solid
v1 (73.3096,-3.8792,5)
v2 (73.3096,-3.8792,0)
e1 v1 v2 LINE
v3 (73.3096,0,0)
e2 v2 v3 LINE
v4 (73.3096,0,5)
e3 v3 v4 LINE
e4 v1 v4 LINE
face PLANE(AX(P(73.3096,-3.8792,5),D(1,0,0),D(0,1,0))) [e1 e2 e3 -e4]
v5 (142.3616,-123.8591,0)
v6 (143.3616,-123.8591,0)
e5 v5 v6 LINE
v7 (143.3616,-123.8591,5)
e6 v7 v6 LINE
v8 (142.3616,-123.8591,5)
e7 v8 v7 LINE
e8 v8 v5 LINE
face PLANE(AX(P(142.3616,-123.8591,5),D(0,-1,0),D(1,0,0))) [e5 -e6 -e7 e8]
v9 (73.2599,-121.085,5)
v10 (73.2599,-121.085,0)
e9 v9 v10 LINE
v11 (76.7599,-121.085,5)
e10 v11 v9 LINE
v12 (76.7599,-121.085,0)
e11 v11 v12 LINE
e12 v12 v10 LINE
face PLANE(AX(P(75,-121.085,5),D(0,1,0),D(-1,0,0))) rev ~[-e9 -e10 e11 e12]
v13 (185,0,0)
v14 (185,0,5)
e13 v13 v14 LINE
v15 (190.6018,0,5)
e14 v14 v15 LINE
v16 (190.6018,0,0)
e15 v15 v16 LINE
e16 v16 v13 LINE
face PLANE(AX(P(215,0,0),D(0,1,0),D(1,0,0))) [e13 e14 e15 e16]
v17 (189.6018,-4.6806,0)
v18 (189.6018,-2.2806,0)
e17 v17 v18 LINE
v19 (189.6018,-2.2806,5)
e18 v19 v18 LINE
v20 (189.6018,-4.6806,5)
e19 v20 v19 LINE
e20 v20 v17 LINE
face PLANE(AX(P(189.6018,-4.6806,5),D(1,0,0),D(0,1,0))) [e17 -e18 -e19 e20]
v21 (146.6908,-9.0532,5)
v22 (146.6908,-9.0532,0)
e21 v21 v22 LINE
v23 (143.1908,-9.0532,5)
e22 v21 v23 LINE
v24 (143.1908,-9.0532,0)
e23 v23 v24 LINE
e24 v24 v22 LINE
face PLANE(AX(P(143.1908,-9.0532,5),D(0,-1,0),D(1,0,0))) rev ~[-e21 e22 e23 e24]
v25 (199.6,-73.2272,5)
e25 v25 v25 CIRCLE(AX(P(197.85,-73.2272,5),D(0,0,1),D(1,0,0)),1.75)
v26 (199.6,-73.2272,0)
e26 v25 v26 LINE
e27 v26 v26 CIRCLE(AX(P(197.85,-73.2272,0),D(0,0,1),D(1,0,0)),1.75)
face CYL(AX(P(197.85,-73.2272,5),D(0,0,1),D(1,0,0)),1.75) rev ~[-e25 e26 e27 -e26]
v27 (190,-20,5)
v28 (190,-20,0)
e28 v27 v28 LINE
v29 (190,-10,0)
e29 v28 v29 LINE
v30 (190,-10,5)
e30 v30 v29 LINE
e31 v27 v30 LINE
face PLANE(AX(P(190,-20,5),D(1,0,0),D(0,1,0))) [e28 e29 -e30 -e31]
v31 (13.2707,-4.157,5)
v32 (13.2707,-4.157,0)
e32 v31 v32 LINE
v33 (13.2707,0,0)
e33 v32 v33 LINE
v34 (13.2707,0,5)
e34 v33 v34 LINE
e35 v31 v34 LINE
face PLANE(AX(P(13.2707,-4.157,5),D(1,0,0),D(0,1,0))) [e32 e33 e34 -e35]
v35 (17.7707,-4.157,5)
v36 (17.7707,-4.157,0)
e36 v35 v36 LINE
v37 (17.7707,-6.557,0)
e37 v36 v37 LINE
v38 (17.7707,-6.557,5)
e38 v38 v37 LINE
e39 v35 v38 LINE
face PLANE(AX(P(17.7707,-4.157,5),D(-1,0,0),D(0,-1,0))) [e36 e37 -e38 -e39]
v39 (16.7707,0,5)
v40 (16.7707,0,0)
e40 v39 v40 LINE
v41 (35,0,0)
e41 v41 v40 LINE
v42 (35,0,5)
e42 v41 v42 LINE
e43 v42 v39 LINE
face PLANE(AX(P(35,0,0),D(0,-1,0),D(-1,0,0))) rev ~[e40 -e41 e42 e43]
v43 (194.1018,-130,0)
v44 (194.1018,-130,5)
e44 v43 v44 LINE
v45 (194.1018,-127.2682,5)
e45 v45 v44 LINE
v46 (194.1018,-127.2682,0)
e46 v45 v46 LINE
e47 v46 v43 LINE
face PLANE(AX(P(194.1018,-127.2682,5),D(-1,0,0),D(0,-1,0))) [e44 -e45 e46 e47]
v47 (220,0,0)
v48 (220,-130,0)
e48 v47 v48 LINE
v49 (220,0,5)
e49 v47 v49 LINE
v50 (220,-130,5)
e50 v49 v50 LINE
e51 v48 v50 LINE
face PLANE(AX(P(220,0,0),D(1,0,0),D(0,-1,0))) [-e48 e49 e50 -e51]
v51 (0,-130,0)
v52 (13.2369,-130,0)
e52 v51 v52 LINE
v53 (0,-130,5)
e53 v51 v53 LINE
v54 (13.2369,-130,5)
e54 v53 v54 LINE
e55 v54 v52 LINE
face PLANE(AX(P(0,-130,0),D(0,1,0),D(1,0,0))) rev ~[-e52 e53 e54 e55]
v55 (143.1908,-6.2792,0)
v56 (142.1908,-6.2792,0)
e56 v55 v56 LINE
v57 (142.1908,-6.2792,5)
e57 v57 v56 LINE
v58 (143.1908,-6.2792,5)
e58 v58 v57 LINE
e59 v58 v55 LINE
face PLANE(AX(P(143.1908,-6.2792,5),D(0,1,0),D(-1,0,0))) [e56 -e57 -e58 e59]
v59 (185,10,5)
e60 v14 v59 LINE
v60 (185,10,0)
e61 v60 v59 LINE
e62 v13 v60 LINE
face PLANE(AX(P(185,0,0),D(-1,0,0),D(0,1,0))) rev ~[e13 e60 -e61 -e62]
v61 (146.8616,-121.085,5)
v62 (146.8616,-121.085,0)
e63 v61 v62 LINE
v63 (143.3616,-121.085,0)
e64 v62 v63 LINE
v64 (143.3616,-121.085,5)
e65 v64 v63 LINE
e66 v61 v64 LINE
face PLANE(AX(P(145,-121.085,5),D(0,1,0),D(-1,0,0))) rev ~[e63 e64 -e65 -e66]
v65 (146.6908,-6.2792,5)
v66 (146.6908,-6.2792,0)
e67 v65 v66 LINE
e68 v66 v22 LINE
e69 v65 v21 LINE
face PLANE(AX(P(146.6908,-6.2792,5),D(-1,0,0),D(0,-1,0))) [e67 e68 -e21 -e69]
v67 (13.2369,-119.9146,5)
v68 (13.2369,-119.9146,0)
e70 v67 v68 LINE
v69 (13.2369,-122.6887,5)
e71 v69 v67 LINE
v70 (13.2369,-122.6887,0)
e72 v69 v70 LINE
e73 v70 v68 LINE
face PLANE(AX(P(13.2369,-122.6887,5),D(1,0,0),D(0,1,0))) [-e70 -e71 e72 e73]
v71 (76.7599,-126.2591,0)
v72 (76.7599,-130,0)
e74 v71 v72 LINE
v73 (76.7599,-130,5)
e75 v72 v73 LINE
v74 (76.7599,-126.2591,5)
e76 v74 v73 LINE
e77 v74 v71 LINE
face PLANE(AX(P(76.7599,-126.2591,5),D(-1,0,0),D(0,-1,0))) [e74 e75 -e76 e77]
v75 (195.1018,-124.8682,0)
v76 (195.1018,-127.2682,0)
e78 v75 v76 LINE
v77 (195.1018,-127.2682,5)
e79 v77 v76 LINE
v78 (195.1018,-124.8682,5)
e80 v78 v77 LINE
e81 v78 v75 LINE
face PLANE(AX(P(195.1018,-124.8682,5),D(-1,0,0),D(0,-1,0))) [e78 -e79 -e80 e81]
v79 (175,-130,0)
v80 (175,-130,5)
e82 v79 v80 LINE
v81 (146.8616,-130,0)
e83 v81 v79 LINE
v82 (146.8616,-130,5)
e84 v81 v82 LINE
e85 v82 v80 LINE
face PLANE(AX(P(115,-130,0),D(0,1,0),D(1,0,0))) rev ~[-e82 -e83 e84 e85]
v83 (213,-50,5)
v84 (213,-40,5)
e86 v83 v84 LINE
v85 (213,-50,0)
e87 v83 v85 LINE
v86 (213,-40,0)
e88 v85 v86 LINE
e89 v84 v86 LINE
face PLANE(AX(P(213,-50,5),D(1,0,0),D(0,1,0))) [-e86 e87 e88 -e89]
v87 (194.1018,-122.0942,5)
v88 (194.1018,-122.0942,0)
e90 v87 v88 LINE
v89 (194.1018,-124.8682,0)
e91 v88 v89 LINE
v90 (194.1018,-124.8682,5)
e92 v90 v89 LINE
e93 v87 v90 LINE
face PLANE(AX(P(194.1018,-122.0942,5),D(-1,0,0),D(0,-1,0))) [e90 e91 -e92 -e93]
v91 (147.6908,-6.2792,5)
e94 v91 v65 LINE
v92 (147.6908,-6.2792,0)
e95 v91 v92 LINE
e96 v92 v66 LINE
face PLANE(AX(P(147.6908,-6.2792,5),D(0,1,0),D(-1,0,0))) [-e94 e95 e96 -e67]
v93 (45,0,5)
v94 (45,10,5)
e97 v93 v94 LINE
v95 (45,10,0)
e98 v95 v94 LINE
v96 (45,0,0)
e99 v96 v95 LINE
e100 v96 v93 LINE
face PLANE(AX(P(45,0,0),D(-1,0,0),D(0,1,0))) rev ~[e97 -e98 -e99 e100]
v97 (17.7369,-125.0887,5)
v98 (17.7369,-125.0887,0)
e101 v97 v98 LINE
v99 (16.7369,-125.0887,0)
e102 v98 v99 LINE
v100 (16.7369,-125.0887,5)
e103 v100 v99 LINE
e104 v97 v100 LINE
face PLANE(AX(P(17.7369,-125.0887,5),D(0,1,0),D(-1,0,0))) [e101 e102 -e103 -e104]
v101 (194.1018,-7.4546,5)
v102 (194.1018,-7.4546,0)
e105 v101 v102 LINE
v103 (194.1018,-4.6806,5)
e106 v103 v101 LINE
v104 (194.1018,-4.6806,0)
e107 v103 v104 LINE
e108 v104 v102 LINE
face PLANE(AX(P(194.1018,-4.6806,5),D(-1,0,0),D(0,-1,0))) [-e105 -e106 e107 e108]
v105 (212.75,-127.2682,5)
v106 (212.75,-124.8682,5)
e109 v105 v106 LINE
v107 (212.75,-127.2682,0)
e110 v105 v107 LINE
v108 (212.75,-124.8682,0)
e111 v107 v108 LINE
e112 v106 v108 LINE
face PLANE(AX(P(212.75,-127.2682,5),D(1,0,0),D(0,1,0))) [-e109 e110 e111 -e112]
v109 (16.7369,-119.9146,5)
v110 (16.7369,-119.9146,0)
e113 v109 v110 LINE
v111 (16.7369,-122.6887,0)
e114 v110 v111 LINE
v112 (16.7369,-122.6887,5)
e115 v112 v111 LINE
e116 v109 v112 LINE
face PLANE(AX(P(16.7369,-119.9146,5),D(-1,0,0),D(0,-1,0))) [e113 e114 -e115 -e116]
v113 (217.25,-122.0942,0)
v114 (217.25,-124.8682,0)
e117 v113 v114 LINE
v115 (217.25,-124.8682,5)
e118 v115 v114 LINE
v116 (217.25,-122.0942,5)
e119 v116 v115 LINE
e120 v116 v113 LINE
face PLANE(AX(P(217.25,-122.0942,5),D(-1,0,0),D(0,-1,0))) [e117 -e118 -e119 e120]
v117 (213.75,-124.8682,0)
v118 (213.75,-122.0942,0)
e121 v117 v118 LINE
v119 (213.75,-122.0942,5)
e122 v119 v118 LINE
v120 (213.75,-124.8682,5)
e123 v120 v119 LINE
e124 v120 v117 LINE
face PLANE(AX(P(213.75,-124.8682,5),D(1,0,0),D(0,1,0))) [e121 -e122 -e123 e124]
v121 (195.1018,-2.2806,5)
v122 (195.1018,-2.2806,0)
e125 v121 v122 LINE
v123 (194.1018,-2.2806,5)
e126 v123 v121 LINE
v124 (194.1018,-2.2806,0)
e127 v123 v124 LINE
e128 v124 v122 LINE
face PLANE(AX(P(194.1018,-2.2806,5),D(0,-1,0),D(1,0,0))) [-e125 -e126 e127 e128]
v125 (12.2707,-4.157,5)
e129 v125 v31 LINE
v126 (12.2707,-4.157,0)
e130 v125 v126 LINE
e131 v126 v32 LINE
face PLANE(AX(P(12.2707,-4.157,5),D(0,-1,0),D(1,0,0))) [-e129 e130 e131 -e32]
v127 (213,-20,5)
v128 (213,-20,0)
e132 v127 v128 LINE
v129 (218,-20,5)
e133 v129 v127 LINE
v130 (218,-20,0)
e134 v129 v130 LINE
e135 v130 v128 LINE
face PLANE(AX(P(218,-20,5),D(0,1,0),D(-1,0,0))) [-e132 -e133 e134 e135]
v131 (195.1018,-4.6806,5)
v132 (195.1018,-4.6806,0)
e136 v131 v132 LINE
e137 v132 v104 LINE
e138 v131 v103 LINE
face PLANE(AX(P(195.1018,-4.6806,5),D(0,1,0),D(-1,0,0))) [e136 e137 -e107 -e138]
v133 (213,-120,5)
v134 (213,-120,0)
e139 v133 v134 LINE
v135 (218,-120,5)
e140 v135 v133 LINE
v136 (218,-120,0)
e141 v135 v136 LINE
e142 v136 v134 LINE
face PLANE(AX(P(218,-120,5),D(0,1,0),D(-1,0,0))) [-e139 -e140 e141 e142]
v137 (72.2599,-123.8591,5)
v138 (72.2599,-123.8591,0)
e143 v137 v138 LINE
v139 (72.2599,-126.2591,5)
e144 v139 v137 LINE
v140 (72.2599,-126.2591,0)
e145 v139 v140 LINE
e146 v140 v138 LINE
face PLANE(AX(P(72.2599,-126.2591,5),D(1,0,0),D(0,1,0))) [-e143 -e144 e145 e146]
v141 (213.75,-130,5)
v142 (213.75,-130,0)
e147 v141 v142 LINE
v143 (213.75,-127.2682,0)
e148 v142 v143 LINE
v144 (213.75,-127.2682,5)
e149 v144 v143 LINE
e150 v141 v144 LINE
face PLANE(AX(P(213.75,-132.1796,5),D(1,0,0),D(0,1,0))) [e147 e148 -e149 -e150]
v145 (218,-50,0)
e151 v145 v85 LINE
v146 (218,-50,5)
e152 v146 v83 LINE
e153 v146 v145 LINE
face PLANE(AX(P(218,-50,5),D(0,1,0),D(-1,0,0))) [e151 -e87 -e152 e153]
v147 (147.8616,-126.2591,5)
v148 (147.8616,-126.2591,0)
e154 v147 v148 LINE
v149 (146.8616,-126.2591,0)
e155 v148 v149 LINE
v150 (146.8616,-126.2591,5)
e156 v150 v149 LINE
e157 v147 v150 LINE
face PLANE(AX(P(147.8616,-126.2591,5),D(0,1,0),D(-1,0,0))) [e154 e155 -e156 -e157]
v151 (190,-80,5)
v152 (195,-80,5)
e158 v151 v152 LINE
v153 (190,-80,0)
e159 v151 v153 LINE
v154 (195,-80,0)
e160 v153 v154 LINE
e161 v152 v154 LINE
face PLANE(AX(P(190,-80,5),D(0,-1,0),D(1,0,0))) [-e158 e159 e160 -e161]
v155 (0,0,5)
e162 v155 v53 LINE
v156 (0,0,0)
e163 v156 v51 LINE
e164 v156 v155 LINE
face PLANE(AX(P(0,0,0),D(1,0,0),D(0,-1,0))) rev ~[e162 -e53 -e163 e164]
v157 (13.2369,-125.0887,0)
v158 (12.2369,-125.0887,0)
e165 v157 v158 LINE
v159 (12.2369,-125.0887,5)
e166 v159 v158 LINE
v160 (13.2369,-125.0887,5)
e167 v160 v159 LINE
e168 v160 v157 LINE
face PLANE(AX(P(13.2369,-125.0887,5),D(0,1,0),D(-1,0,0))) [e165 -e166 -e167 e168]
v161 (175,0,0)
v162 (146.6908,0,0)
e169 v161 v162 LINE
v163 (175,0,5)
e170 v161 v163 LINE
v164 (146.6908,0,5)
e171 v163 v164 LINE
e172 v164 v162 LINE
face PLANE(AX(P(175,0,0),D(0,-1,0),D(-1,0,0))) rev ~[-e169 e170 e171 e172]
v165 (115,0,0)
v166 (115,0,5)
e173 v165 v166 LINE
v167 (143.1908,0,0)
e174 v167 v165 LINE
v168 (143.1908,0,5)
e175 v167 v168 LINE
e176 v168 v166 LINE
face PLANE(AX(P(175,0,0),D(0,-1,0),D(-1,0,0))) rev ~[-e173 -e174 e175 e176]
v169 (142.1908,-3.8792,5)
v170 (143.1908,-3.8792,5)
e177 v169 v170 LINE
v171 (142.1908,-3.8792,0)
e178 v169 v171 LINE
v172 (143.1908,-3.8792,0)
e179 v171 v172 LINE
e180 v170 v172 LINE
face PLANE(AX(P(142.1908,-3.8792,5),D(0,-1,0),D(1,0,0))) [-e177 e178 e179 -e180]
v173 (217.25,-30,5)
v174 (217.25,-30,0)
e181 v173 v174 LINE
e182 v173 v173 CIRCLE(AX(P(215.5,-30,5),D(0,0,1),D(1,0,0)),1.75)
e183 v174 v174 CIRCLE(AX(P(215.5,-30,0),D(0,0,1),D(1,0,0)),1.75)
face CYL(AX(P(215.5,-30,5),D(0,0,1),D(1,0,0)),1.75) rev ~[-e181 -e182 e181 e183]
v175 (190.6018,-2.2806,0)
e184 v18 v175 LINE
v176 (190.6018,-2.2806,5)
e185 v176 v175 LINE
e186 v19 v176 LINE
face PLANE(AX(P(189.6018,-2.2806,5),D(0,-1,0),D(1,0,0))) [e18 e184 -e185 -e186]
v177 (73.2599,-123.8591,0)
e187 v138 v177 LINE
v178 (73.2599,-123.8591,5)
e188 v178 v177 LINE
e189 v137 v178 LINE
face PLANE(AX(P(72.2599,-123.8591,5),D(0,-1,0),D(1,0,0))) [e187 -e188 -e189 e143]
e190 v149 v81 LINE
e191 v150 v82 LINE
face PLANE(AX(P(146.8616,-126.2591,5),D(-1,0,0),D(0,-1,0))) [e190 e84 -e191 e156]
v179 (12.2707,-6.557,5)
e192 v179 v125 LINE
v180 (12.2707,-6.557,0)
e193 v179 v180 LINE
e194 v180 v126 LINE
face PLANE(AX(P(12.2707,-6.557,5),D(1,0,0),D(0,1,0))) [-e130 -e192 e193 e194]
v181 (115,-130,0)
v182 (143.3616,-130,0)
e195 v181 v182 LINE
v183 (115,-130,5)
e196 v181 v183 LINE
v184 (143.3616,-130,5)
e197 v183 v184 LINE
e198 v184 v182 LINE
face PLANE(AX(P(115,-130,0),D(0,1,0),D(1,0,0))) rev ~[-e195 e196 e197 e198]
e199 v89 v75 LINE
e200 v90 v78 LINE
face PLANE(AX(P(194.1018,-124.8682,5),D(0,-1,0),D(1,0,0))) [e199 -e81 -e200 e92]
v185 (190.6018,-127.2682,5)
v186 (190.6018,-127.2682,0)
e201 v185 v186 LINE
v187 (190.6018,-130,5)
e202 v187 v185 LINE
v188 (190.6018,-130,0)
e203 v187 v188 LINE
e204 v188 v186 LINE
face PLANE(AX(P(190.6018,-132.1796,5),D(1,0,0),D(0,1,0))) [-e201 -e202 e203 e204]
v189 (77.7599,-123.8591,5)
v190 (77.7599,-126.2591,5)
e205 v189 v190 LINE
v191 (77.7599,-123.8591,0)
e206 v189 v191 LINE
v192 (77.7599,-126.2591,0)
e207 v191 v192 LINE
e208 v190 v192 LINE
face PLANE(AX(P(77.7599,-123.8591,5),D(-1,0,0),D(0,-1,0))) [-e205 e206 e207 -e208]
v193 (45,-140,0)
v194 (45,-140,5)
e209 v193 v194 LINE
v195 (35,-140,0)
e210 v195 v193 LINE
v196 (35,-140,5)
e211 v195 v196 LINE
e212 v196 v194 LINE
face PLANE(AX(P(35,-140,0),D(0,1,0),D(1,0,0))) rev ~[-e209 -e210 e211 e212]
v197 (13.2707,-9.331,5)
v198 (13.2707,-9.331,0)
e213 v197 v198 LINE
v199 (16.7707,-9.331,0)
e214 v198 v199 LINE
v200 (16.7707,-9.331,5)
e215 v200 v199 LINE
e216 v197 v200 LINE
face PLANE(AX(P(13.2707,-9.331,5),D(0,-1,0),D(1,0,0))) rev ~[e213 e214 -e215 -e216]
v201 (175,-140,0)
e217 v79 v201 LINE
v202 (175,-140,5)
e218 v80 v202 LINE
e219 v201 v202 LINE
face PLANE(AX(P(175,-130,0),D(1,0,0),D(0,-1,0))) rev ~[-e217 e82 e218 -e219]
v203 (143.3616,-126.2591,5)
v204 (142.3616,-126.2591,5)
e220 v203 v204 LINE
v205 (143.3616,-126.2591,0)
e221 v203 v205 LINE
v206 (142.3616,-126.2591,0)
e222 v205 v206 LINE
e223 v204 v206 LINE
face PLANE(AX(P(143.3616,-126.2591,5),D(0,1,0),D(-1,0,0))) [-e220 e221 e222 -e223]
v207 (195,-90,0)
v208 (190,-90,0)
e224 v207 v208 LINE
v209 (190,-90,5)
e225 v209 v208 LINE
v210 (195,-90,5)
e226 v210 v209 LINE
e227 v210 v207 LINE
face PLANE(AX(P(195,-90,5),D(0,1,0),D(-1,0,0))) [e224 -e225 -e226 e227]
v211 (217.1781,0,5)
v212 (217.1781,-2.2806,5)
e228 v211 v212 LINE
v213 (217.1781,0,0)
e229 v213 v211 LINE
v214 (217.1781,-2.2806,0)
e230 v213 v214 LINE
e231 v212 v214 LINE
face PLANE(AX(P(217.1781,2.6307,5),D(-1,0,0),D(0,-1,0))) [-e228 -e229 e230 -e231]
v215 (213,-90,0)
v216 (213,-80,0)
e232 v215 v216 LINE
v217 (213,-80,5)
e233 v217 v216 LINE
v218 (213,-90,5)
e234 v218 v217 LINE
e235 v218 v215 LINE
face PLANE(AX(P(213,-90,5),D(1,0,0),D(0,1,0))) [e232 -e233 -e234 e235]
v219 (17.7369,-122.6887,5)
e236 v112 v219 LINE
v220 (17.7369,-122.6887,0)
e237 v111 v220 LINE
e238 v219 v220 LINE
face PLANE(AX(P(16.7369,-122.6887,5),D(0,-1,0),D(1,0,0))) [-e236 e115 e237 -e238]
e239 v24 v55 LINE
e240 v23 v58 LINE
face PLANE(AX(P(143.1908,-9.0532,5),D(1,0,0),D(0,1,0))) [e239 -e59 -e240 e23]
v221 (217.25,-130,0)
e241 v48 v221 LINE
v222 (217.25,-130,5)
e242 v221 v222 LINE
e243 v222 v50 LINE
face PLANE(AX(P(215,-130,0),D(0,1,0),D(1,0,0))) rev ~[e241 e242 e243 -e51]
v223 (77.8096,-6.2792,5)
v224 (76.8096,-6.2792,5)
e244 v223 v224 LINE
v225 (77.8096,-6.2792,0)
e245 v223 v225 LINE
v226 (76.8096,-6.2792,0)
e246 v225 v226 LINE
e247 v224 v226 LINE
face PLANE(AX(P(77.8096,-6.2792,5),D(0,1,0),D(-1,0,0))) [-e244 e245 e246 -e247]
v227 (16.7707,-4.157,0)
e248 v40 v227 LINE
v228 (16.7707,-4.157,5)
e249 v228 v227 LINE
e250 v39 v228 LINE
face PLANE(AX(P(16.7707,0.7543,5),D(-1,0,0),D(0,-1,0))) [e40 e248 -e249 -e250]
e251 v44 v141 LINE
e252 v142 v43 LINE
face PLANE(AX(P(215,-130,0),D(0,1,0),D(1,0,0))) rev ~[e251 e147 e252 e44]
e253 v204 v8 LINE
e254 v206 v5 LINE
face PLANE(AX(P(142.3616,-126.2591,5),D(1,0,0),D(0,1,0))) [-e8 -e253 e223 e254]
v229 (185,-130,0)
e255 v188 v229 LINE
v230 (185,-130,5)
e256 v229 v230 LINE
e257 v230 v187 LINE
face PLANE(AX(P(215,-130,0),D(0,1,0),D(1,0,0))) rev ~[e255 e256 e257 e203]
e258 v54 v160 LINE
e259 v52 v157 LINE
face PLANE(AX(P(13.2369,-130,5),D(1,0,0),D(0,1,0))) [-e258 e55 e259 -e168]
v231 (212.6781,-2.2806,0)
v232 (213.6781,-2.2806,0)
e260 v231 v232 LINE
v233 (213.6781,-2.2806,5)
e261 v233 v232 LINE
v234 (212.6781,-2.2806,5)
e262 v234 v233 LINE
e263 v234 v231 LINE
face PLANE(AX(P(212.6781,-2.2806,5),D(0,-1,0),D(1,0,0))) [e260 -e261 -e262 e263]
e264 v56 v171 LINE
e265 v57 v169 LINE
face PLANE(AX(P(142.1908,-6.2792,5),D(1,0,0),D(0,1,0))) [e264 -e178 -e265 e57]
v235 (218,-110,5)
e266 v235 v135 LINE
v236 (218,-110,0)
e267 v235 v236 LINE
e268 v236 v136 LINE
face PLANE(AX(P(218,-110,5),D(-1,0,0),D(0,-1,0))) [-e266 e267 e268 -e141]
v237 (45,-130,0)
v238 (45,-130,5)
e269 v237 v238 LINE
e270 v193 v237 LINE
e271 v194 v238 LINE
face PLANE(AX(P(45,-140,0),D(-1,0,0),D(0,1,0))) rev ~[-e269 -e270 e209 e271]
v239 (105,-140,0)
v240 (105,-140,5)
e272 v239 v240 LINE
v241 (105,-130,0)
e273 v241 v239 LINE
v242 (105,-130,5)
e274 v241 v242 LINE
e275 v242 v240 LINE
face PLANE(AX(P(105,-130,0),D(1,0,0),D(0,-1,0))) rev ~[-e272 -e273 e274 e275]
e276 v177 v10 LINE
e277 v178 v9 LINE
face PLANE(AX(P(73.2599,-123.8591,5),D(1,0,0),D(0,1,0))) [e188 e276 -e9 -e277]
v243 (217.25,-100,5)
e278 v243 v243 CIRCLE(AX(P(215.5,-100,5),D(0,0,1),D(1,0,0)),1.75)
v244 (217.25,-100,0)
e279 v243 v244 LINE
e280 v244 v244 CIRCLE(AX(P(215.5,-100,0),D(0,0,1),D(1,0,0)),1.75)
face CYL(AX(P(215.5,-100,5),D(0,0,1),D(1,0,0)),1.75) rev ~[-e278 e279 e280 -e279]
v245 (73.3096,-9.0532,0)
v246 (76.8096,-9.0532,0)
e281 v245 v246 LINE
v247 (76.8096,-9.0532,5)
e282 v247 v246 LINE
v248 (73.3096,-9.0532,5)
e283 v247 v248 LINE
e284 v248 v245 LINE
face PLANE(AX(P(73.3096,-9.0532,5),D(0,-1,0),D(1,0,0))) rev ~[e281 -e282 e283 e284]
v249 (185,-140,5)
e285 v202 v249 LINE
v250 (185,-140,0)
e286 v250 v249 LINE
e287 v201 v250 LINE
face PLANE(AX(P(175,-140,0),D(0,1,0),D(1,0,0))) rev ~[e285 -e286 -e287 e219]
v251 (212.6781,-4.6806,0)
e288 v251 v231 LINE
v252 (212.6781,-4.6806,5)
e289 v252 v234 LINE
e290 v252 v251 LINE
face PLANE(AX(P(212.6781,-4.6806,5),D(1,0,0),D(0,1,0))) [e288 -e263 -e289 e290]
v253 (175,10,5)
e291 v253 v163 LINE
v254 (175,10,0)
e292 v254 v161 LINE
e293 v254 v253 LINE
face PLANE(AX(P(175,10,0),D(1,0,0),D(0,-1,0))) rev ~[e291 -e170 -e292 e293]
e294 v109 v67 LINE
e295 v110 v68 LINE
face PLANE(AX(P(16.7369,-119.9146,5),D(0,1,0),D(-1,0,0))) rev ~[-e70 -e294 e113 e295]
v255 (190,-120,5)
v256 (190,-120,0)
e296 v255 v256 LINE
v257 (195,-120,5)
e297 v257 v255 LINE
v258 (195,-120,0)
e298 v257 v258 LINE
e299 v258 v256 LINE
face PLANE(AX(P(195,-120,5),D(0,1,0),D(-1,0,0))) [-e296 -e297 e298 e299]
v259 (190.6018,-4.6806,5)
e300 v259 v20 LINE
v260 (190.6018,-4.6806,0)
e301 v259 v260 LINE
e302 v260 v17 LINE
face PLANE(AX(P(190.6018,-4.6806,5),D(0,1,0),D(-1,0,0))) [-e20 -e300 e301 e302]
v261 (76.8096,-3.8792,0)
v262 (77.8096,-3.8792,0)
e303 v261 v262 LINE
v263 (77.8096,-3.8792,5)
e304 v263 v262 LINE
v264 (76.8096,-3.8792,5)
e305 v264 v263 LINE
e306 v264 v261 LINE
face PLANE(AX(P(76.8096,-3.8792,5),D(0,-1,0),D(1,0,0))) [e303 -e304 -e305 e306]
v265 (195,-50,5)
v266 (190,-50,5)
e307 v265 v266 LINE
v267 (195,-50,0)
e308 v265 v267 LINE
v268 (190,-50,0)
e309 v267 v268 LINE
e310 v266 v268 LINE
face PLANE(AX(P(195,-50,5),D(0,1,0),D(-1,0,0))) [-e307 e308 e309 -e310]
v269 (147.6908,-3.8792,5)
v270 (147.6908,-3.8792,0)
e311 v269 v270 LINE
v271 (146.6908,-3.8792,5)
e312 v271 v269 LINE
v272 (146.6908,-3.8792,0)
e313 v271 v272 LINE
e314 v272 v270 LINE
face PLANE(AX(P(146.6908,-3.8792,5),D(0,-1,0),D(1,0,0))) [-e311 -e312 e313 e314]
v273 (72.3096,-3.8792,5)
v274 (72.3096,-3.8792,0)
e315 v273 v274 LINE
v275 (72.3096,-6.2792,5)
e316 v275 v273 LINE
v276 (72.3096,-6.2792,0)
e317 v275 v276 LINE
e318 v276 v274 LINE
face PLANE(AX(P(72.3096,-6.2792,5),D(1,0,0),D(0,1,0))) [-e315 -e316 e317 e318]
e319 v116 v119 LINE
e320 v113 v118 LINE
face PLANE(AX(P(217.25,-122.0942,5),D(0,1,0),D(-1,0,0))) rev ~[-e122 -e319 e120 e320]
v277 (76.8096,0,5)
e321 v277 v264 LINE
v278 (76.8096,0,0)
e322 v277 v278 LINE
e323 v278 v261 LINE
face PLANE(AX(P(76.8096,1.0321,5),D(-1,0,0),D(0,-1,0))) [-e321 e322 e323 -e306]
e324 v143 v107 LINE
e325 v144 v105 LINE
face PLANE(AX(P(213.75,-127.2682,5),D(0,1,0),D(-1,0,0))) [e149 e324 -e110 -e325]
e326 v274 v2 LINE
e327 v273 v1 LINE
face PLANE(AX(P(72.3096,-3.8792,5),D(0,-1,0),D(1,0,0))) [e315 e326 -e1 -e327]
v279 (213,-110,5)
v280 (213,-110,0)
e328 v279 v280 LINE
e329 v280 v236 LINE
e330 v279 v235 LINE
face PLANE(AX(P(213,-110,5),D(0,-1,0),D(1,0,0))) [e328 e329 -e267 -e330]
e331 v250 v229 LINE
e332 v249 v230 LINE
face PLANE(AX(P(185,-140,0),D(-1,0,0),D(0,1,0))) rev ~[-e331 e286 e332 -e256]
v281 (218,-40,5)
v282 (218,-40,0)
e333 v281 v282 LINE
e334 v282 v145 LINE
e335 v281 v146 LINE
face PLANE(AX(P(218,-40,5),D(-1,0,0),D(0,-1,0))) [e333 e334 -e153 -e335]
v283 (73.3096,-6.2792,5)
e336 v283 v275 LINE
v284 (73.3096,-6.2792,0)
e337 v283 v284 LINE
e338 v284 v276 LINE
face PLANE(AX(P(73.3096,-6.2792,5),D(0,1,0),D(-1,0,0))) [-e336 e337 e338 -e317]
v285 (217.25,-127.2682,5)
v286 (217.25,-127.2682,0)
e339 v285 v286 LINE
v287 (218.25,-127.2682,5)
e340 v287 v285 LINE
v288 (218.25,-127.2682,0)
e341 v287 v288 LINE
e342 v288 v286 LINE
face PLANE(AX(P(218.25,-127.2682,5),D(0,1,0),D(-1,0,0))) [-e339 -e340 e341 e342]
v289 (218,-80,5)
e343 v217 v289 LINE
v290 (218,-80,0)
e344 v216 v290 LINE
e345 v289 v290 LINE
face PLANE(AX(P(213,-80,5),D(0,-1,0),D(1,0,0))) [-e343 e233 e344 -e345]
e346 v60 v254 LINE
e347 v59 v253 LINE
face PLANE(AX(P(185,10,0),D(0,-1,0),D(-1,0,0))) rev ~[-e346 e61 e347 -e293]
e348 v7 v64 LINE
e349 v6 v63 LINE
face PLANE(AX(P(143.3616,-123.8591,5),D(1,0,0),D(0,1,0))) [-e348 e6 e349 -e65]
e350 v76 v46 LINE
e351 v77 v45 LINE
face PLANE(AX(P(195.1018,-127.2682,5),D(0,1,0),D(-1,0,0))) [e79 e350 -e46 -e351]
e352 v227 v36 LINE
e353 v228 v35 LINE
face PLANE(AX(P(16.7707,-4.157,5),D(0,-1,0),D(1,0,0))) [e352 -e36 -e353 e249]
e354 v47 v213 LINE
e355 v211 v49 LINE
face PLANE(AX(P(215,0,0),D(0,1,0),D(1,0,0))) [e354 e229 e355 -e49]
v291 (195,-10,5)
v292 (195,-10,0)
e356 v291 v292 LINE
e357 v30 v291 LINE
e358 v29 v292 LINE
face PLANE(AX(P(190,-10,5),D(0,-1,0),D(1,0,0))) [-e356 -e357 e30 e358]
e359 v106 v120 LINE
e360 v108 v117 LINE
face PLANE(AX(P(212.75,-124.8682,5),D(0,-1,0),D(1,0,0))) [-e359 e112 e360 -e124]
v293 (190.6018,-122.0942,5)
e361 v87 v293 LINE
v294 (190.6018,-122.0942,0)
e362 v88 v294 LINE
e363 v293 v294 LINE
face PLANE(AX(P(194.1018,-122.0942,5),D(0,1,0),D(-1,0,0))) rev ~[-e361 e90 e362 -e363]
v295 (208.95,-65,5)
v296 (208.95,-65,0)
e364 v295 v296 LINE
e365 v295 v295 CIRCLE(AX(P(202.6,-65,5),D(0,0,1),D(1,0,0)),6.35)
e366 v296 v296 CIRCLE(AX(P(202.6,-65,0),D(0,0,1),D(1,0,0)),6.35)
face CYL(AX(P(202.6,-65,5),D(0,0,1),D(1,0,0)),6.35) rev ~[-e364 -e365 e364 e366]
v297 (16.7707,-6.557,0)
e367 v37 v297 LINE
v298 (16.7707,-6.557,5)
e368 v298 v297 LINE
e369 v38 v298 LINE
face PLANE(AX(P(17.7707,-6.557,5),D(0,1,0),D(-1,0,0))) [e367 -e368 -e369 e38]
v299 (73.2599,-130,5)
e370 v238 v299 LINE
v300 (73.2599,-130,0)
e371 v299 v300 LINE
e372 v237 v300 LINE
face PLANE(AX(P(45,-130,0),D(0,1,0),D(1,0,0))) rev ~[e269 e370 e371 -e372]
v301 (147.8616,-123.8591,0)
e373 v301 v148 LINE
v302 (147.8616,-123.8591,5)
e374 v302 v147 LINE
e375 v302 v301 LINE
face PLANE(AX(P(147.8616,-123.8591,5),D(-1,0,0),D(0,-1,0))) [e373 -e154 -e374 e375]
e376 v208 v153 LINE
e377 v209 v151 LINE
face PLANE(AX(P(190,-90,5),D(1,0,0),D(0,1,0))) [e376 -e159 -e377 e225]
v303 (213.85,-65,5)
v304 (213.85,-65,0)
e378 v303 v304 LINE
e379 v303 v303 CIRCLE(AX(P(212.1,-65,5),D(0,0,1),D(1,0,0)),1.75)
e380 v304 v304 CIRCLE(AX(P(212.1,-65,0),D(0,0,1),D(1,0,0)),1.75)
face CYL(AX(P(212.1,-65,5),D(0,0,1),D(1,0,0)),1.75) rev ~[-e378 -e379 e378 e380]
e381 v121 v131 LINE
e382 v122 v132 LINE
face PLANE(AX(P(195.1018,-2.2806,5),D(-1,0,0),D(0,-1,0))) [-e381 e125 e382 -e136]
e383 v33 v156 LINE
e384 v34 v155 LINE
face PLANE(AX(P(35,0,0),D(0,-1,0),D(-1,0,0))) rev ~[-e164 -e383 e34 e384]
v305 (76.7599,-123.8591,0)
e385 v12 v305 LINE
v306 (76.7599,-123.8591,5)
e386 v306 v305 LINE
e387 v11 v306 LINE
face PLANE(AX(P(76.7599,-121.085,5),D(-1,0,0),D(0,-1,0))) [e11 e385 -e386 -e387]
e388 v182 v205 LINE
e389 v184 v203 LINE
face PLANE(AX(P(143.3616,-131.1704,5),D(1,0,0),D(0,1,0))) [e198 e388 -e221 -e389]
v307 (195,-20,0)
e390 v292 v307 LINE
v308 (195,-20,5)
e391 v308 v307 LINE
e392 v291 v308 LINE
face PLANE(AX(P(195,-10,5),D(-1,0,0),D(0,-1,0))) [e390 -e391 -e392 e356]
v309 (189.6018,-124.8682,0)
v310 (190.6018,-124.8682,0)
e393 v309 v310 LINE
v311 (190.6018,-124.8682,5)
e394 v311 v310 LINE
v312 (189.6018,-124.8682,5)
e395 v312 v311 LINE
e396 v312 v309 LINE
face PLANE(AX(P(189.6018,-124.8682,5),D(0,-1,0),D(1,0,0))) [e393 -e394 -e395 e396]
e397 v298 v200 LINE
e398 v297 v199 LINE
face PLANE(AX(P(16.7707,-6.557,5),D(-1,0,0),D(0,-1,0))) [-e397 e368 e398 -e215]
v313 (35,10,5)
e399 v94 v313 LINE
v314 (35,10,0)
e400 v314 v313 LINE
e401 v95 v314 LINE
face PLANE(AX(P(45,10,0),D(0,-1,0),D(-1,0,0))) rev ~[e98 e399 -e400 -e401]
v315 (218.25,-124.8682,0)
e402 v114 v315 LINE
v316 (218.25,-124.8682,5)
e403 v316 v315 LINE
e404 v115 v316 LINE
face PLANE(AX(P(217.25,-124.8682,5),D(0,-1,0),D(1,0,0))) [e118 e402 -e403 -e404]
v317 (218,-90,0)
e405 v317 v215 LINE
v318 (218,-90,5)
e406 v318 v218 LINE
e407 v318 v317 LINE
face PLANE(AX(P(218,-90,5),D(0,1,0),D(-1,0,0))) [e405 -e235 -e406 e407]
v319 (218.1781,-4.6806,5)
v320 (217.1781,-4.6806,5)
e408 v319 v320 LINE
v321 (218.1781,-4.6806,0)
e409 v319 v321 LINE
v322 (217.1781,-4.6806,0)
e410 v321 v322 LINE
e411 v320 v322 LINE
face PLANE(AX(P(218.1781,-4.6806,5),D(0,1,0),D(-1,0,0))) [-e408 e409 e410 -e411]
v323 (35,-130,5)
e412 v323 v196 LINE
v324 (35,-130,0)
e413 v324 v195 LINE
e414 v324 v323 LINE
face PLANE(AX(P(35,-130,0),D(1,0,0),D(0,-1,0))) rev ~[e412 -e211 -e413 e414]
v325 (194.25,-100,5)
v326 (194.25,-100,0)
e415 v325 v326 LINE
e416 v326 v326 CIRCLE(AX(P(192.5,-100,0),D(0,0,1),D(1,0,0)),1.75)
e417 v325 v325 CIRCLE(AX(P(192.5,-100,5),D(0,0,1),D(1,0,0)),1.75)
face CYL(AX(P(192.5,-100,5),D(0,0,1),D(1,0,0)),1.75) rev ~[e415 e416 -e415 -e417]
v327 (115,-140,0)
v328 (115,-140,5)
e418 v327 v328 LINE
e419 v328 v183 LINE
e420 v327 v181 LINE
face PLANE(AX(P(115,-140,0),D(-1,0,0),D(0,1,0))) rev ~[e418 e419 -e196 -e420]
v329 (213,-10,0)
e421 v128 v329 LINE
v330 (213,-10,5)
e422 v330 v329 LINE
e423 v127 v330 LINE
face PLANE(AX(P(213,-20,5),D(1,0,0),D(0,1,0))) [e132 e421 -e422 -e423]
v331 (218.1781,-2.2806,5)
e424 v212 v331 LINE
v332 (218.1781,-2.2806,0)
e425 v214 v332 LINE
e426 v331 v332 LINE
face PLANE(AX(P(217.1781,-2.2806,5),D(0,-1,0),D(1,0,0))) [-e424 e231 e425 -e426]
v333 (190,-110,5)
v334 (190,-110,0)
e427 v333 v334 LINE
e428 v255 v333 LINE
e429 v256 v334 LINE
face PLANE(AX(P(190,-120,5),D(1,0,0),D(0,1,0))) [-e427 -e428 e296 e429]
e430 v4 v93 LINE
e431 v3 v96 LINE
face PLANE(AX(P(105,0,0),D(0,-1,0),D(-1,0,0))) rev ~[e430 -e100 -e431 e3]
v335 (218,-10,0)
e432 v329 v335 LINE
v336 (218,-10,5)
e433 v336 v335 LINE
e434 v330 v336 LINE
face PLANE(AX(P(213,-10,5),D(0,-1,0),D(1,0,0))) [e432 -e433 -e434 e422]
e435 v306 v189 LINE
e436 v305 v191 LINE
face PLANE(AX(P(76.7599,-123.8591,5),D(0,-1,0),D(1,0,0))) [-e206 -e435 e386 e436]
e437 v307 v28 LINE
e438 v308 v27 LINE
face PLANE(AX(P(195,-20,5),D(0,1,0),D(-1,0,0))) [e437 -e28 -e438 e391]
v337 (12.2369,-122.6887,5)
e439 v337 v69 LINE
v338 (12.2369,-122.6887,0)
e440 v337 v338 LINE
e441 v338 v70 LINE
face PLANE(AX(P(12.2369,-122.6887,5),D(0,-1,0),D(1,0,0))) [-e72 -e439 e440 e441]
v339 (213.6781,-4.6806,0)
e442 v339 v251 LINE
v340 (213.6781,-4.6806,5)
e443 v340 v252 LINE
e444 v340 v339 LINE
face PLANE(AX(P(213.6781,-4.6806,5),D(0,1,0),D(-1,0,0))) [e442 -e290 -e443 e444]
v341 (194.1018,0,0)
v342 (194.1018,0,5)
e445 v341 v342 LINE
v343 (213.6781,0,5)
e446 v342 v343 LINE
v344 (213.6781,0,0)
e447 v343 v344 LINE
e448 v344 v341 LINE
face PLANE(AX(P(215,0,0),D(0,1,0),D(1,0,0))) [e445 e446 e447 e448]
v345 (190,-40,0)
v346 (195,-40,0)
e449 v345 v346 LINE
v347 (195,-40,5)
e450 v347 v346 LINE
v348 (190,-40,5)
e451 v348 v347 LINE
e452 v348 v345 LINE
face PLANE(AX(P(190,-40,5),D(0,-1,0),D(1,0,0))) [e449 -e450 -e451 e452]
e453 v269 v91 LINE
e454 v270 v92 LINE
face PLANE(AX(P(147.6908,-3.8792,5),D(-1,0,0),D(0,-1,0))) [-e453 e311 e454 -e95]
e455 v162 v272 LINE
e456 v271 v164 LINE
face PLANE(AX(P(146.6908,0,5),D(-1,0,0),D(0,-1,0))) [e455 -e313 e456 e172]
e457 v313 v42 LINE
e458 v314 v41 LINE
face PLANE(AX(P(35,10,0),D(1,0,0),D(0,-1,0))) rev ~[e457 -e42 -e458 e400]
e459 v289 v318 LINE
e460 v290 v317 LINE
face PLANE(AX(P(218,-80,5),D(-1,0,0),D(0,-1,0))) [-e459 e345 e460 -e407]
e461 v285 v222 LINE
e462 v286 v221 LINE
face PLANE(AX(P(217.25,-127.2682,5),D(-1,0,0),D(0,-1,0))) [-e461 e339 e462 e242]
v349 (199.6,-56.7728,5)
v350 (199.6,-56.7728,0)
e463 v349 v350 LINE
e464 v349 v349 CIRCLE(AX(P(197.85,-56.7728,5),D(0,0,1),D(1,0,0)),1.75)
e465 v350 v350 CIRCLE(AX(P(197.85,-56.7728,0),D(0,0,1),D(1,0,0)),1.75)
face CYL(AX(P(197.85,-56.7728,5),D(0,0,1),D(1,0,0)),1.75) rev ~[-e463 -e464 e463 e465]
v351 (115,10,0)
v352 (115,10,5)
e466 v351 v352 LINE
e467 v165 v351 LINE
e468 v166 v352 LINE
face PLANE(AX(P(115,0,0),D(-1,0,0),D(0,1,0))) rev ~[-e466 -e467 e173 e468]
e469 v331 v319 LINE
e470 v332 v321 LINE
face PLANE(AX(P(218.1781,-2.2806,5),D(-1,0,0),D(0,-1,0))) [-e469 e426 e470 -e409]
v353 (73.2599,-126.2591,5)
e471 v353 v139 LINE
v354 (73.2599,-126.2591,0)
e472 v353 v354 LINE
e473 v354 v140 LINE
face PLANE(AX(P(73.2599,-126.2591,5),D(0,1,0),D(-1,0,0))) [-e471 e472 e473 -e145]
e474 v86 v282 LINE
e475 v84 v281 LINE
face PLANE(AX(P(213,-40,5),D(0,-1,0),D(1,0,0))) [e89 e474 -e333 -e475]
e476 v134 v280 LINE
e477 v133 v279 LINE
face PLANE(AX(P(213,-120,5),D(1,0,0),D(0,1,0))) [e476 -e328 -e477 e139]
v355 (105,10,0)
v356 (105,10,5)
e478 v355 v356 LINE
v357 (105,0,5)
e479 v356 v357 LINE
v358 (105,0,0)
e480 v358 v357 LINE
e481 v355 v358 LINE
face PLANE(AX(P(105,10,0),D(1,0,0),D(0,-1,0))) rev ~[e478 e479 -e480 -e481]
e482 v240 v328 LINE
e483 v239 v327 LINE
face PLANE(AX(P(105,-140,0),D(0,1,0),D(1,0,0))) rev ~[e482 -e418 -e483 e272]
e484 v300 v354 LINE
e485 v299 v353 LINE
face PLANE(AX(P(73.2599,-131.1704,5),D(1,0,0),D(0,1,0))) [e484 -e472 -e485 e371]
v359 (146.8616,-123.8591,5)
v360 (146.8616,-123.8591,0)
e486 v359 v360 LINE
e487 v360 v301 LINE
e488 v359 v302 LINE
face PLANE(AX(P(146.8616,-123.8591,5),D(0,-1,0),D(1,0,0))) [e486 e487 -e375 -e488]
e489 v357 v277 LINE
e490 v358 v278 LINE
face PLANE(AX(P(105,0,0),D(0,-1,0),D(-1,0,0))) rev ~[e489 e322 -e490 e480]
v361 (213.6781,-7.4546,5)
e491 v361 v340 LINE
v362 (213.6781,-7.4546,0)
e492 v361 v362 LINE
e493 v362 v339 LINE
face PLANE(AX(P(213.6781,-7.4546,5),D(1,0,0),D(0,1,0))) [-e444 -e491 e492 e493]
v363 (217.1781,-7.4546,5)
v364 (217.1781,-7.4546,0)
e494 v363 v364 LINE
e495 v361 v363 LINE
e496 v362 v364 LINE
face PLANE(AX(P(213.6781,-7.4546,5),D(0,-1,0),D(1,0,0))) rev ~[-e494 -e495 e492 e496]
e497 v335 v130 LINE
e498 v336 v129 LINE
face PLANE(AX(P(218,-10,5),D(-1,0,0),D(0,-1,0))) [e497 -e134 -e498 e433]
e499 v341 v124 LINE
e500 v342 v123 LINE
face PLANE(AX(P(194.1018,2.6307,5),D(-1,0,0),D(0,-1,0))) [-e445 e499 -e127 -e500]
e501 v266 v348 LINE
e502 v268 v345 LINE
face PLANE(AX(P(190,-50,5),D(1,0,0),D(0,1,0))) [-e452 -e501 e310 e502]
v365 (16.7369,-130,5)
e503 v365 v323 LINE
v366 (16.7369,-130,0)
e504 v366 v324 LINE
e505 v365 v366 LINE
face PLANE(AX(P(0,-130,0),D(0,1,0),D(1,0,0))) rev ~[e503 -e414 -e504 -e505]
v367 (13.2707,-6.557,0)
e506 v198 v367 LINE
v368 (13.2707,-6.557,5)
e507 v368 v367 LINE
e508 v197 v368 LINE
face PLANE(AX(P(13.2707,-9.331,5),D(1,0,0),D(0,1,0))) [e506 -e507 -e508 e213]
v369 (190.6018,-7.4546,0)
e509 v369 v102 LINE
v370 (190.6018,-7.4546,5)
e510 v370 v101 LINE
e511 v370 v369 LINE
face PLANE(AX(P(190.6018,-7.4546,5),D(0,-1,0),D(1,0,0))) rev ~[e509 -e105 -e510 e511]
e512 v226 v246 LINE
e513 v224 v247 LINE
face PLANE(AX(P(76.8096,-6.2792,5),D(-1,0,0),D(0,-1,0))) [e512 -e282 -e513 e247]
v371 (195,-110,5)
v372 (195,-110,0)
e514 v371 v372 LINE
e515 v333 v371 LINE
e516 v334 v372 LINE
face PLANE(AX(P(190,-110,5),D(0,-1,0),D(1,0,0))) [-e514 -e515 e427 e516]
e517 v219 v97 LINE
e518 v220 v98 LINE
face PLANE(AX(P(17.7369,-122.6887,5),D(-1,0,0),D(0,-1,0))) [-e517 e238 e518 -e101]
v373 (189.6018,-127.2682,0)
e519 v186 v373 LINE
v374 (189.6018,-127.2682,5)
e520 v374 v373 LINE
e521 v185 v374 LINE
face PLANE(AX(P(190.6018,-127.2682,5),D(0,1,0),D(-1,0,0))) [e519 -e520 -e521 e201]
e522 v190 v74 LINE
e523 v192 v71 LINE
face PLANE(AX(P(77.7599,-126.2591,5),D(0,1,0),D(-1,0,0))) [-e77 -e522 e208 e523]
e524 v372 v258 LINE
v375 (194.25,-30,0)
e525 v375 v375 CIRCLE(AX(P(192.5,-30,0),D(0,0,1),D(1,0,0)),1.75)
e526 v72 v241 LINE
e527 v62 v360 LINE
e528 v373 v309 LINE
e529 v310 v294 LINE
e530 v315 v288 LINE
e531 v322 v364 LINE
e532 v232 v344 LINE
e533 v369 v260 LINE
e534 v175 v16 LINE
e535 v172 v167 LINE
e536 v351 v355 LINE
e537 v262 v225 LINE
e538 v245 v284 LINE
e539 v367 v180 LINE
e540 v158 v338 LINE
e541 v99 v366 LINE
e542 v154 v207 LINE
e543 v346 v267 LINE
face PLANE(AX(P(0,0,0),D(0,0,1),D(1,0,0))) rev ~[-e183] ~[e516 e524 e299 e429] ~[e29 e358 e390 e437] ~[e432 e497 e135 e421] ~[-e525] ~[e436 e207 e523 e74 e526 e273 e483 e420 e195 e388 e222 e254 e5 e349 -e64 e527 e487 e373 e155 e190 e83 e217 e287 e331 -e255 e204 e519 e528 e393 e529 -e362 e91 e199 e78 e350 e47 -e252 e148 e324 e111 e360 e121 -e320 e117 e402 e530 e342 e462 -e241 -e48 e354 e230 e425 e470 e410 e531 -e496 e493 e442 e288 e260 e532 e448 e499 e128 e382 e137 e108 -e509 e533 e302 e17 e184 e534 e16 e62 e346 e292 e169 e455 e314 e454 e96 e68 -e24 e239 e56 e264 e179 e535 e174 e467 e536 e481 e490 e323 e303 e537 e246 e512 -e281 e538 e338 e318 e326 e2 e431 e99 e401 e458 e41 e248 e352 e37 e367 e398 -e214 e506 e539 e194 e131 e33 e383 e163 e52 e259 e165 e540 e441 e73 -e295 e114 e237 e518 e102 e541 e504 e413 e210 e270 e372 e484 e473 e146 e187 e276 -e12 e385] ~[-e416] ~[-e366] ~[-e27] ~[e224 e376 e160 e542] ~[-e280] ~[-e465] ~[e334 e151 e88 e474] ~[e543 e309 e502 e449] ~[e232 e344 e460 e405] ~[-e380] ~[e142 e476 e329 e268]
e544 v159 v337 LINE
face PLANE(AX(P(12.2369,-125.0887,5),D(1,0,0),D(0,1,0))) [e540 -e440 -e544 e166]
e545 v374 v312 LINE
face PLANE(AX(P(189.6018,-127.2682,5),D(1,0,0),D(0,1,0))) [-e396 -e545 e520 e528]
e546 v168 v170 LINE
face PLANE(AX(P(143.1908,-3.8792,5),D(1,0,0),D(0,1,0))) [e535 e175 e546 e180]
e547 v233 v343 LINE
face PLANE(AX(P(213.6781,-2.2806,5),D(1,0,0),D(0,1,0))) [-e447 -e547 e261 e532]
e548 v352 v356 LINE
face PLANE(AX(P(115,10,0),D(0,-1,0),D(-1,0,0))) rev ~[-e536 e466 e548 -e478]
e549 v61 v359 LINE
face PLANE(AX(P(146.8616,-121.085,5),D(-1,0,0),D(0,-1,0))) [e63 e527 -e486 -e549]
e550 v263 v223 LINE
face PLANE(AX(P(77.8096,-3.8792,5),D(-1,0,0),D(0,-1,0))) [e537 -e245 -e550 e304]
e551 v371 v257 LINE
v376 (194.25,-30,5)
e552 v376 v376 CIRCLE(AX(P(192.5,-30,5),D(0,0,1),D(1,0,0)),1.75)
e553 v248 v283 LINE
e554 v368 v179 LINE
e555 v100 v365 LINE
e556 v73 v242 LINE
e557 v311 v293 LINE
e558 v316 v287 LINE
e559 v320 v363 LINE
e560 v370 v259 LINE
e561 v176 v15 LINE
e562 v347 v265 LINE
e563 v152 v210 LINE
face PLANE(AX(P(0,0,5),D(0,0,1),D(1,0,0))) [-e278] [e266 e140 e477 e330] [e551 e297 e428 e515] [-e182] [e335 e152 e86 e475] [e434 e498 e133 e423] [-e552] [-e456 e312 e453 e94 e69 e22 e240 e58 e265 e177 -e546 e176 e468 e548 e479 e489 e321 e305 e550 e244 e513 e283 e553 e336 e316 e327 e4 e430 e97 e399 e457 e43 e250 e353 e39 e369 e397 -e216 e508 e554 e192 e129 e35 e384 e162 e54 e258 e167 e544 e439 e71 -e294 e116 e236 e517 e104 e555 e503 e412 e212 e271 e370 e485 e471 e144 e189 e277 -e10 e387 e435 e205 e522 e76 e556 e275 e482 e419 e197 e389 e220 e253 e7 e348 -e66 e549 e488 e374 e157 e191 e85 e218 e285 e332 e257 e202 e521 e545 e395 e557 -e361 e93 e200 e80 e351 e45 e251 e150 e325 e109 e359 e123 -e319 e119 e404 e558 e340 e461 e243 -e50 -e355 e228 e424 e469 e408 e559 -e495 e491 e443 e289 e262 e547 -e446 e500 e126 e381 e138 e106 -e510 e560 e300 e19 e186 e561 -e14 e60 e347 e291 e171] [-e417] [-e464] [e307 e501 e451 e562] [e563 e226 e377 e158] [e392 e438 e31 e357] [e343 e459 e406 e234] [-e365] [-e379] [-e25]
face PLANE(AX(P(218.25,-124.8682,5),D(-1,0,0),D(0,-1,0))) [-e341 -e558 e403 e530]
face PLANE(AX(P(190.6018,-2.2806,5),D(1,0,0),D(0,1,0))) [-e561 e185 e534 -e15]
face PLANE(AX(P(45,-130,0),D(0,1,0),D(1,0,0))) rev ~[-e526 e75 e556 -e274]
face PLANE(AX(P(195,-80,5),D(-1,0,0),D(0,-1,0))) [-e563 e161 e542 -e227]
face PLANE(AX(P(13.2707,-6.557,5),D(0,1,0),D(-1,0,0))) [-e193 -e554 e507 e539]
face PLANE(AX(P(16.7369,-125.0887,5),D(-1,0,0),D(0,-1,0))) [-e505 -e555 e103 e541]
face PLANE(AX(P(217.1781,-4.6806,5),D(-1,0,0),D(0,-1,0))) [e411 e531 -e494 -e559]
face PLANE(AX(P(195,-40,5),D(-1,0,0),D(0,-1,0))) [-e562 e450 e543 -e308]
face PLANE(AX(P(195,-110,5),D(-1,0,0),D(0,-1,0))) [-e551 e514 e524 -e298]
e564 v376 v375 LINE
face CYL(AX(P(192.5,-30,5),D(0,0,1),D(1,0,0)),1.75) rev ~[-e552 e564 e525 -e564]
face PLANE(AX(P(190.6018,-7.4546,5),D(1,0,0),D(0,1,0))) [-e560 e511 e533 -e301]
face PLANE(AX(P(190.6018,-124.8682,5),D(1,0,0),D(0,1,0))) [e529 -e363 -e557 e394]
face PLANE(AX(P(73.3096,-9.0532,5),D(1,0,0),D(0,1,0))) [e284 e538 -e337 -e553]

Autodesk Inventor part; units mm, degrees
ref_plane "YZ Plane" through (0, 0, 0) normal (1, 0, 0) x (0, 1, 0)
ref_plane "XZ Plane" through (0, 0, 0) normal (0, 1, 0) x (-1, 0, 0)
ref_plane "XY Plane" through (0, 0, 0) normal (0, 0, 1) x (1, 0, 0)
sketch "Boceto1" plane through (0, 0, 0) normal (0, 0, 1) x (1, 0, 0)
  line L0 (215, 0) -> (185, 0)
  line L1 (185, 0) -> (185, 10)
  line L2 (185, 10) -> (175, 10)
  line L3 (175, 10) -> (175, 0)
  line L4 (175, 0) -> (115, 0)
  line L5 (115, 0) -> (115, 10)
  line L6 (115, 10) -> (105, 10)
  line L7 (105, 10) -> (105, 0)
  line L8 (105, 0) -> (45, 0)
  line L9 (45, 0) -> (45, 10)
  line L10 (45, 10) -> (35, 10)
  line L11 (35, 10) -> (35, 0)
  line L12 (35, 0) -> (0, 0)
  line L13 (0, 0) -> (0, -130)
  line L14 (0, -130) -> (35, -130)
  line L15 (35, -130) -> (35, -140)
  line L16 (35, -140) -> (45, -140)
  line L17 (45, -140) -> (45, -130)
  line L18 (45, -130) -> (105, -130)
  line L19 (105, -130) -> (105, -140)
  line L20 (105, -140) -> (115, -140)
  line L21 (115, -140) -> (115, -130)
  line L22 (115, -130) -> (175, -130)
  line L23 (175, -130) -> (175, -140)
  line L24 (175, -140) -> (185, -140)
  line L25 (196.8872, -130) -> (215, -130)
  line L26 (185, -140) -> (185, -130)
  line L27 (185, -130) -> (196.8872, -130)
  line L28 (220, 0) -> (220, -130)
  line L29 (215, 0) -> (220, 0)
  line L30 (215, -130) -> (220, -130)
  dimension "d4" = 60
  dimension "d5" = 60
  dimension "d7" = 10
  dimension "d8" = 60
  dimension "d10" = 60
  dimension "d12" = 10
  dimension "d13" = 10
  dimension "d15" = 10
  dimension "d16" = 10
  dimension "d17" = 10
  dimension "d34" = 10
  dimension "d35" = 10
  dimension "d36" = 10
  dimension "d37" = 10
  dimension "d38" = 10
  dimension "d39" = 10
  dimension "d40" = 10
  dimension "d41" = 10
  dimension "d42" = 10
  dimension "d43" = 10
  dimension "d44" = 10
  dimension "d45" = 10
  dimension "d46" = 130
extrude "Extrusión1" add sketch "Boceto1" along normal blind 5
sketch "Boceto2" plane through (0, 0, 5) normal (0, 0, 1) x (1, 0, 0)
  circle A0 centre (197.85, -73.2272) radius 1.75
  circle A1 centre (197.85, -56.7728) radius 1.75
  circle A2 centre (212.1, -65) radius 1.75
  circle A3 centre (202.6, -65) radius 6.35
  line L0 (220, -130) -> (185, -130) projected
  dimension "d19" = 3.5
  dimension "d20" = 3.5
  dimension "d21" = 3.5
  dimension "d22" = 14.25
  dimension "d23" = 16.4545
  dimension "d27" = 12.7
  dimension "d31" = 65
  dimension "d32" = 65
extrude "Extrusión2" cut sketch "Boceto2" against normal blind 5
sketch "Boceto3" plane through (0, 0, 5) normal (0, 0, 1) x (1, 0, 0)
  line L0 (220, -130) -> (185, -130) projected
  line L1 (220, 0) -> (220, -130) projected
  line L2 (185, 0) -> (220, 0) projected
  line L3 (213, -10) -> (218, -10)
  line L4 (218, -10) -> (218, -20)
  line L5 (218, -20) -> (213, -20)
  line L6 (213, -20) -> (213, -10)
  line L7 (213, -110) -> (218, -110)
  line L8 (218, -110) -> (218, -120)
  line L9 (218, -120) -> (213, -120)
  line L10 (213, -120) -> (213, -110)
  line L11 (213, -80) -> (218, -80)
  line L12 (218, -80) -> (218, -90)
  line L13 (218, -90) -> (213, -90)
  line L14 (213, -90) -> (213, -80)
  line L15 (213, -40) -> (218, -40)
  line L16 (218, -40) -> (218, -50)
  line L17 (218, -50) -> (213, -50)
  line L18 (213, -50) -> (213, -40)
  circle A0 centre (215.5, -30) radius 1.75
  circle A1 centre (215.5, -100) radius 1.75
  line L19 (190, -10) -> (195, -10)
  line L20 (195, -10) -> (195, -20)
  line L21 (195, -20) -> (190, -20)
  line L22 (190, -20) -> (190, -10)
  line L23 (190, -110) -> (195, -110)
  line L24 (195, -110) -> (195, -120)
  line L25 (195, -120) -> (190, -120)
  line L26 (190, -120) -> (190, -110)
  line L27 (190, -80) -> (195, -80)
  line L28 (195, -80) -> (195, -90)
  line L29 (195, -90) -> (190, -90)
  line L30 (190, -90) -> (190, -80)
  line L31 (190, -40) -> (195, -40)
  line L32 (195, -40) -> (195, -50)
  line L33 (195, -50) -> (190, -50)
  line L34 (190, -50) -> (190, -40)
  circle A2 centre (192.5, -30) radius 1.75
  circle A3 centre (192.5, -100) radius 1.75
  dimension "d48" = 3.5
  dimension "d49" = 3.5
  dimension "d50" = 5
  dimension "d51" = 10
  dimension "d52" = 10
  dimension "d53" = 5
  dimension "d54" = 10
  dimension "d55" = 5
  dimension "d56" = 10
  dimension "d57" = 5
  dimension "d58" = 2
  dimension "d59" = 2
  dimension "d60" = 2
  dimension "d61" = 2
  dimension "d62" = 10
  dimension "d63" = 20
  dimension "d64" = 10
  dimension "d65" = 20
  dimension "d66" = 4.5
  dimension "d67" = 10
  dimension "d68" = 4.5
  dimension "d69" = 10
  dimension "d72" = 3.5
  dimension "d73" = 3.5
  dimension "d74" = 5
  dimension "d75" = 10
  dimension "d76" = 10
  dimension "d77" = 5
  dimension "d78" = 10
  dimension "d79" = 5
  dimension "d80" = 10
  dimension "d81" = 5
  dimension "d82" = 20
  dimension "d83" = 20
  dimension "d84" = 10
  dimension "d85" = 10
  dimension "d86" = 23
  dimension "d87" = 23
  dimension "d88" = 23
  dimension "d89" = 23
  dimension "d90" = 2.5
extrude "Extrusión4" cut sketch "Boceto3" against normal blind 10
sketch "Boceto4" plane through (0, 0, 5) normal (0, 0, 1) x (1, 0, 0)
  line L0 (190.6018, -132.1796) -> (190.6018, -127.2682)
  line L1 (194.1018, -132.1796) -> (190.6018, -132.1796)
  line L2 (194.1018, -127.2682) -> (194.1018, -132.1796)
  line L3 (190.6018, -127.2682) -> (189.6018, -127.2682)
  line L4 (189.6018, -124.8682) -> (190.6018, -124.8682)
  line L5 (190.6018, -124.8682) -> (190.6018, -122.0942)
  line L6 (194.1018, -122.0942) -> (194.1018, -124.8682)
  line L7 (195.1018, -127.2682) -> (194.1018, -127.2682)
  line L8 (195.1018, -124.8682) -> (195.1018, -127.2682)
  line L9 (194.1018, -124.8682) -> (195.1018, -124.8682)
  line L10 (194.1018, -122.0942) -> (190.6018, -122.0942)
  line L11 (189.6018, -127.2682) -> (189.6018, -124.8682)
  line L12 (213.75, -132.1796) -> (213.75, -127.2682)
  line L13 (217.25, -132.1796) -> (213.75, -132.1796)
  line L14 (217.25, -127.2682) -> (217.25, -132.1796)
  line L15 (213.75, -127.2682) -> (212.75, -127.2682)
  line L16 (212.75, -124.8682) -> (213.75, -124.8682)
  line L17 (213.75, -124.8682) -> (213.75, -122.0942)
  line L18 (217.25, -122.0942) -> (217.25, -124.8682)
  line L19 (218.25, -127.2682) -> (217.25, -127.2682)
  line L20 (218.25, -124.8682) -> (218.25, -127.2682)
  line L21 (217.25, -124.8682) -> (218.25, -124.8682)
  line L22 (217.25, -122.0942) -> (213.75, -122.0942)
  line L23 (212.75, -127.2682) -> (212.75, -124.8682)
  line L24 (143.3616, -131.1704) -> (143.3616, -126.2591)
  line L25 (146.8616, -131.1704) -> (143.3616, -131.1704)
  line L26 (146.8616, -126.2591) -> (146.8616, -131.1704)
  line L27 (143.3616, -126.2591) -> (142.3616, -126.2591)
  line L28 (142.3616, -123.8591) -> (143.3616, -123.8591)
  line L29 (143.3616, -123.8591) -> (143.3616, -121.085)
  line L30 (146.8616, -121.085) -> (146.8616, -123.8591)
  line L31 (147.8616, -126.2591) -> (146.8616, -126.2591)
  line L32 (147.8616, -123.8591) -> (147.8616, -126.2591)
  line L33 (146.8616, -123.8591) -> (147.8616, -123.8591)
  line L34 (146.8616, -121.085) -> (143.3616, -121.085)
  line L35 (142.3616, -126.2591) -> (142.3616, -123.8591)
  line L36 (73.2599, -131.1704) -> (73.2599, -126.2591)
  line L37 (76.7599, -131.1704) -> (73.2599, -131.1704)
  line L38 (76.7599, -126.2591) -> (76.7599, -131.1704)
  line L39 (73.2599, -126.2591) -> (72.2599, -126.2591)
  line L40 (72.2599, -123.8591) -> (73.2599, -123.8591)
  line L41 (73.2599, -123.8591) -> (73.2599, -121.085)
  line L42 (76.7599, -121.085) -> (76.7599, -123.8591)
  line L43 (77.7599, -126.2591) -> (76.7599, -126.2591)
  line L44 (77.7599, -123.8591) -> (77.7599, -126.2591)
  line L45 (76.7599, -123.8591) -> (77.7599, -123.8591)
  line L46 (76.7599, -121.085) -> (73.2599, -121.085)
  line L47 (72.2599, -126.2591) -> (72.2599, -123.8591)
  line L48 (13.2369, -130) -> (13.2369, -125.0887)
  line L49 (16.7369, -130) -> (13.2369, -130)
  line L50 (16.7369, -125.0887) -> (16.7369, -130)
  line L51 (13.2369, -125.0887) -> (12.2369, -125.0887)
  line L52 (12.2369, -122.6887) -> (13.2369, -122.6887)
  line L53 (13.2369, -122.6887) -> (13.2369, -119.9146)
  line L54 (16.7369, -119.9146) -> (16.7369, -122.6887)
  line L55 (17.7369, -125.0887) -> (16.7369, -125.0887)
  line L56 (17.7369, -122.6887) -> (17.7369, -125.0887)
  line L57 (16.7369, -122.6887) -> (17.7369, -122.6887)
  line L58 (16.7369, -119.9146) -> (13.2369, -119.9146)
  line L59 (12.2369, -125.0887) -> (12.2369, -122.6887)
  line L60 (217.1781, 2.6307) -> (217.1781, -2.2806)
  line L61 (213.6781, 2.6307) -> (217.1781, 2.6307)
  line L62 (213.6781, -2.2806) -> (213.6781, 2.6307)
  line L63 (217.1781, -2.2806) -> (218.1781, -2.2806)
  line L64 (218.1781, -4.6806) -> (217.1781, -4.6806)
  line L65 (217.1781, -4.6806) -> (217.1781, -7.4546)
  line L66 (213.6781, -7.4546) -> (213.6781, -4.6806)
  line L67 (212.6781, -2.2806) -> (213.6781, -2.2806)
  line L68 (212.6781, -4.6806) -> (212.6781, -2.2806)
  line L69 (213.6781, -4.6806) -> (212.6781, -4.6806)
  line L70 (213.6781, -7.4546) -> (217.1781, -7.4546)
  line L71 (218.1781, -2.2806) -> (218.1781, -4.6806)
  line L72 (194.1018, 2.6307) -> (194.1018, -2.2806)
  line L73 (190.6018, 2.6307) -> (194.1018, 2.6307)
  line L74 (190.6018, -2.2806) -> (190.6018, 2.6307)
  line L75 (194.1018, -2.2806) -> (195.1018, -2.2806)
  line L76 (195.1018, -4.6806) -> (194.1018, -4.6806)
  line L77 (194.1018, -4.6806) -> (194.1018, -7.4546)
  line L78 (190.6018, -7.4546) -> (190.6018, -4.6806)
  line L79 (189.6018, -2.2806) -> (190.6018, -2.2806)
  line L80 (189.6018, -4.6806) -> (189.6018, -2.2806)
  line L81 (190.6018, -4.6806) -> (189.6018, -4.6806)
  line L82 (190.6018, -7.4546) -> (194.1018, -7.4546)
  line L83 (195.1018, -2.2806) -> (195.1018, -4.6806)
  line L84 (146.6908, 1.0321) -> (146.6908, -3.8792)
  line L85 (143.1908, 1.0321) -> (146.6908, 1.0321)
  line L86 (143.1908, -3.8792) -> (143.1908, 1.0321)
  line L87 (146.6908, -3.8792) -> (147.6908, -3.8792)
  line L88 (147.6908, -6.2792) -> (146.6908, -6.2792)
  line L89 (146.6908, -6.2792) -> (146.6908, -9.0532)
  line L90 (143.1908, -9.0532) -> (143.1908, -6.2792)
  line L91 (142.1908, -3.8792) -> (143.1908, -3.8792)
  line L92 (142.1908, -6.2792) -> (142.1908, -3.8792)
  line L93 (143.1908, -6.2792) -> (142.1908, -6.2792)
  line L94 (143.1908, -9.0532) -> (146.6908, -9.0532)
  line L95 (147.6908, -3.8792) -> (147.6908, -6.2792)
  line L96 (76.8096, 1.0321) -> (76.8096, -3.8792)
  line L97 (73.3096, 1.0321) -> (76.8096, 1.0321)
  line L98 (73.3096, -3.8792) -> (73.3096, 1.0321)
  line L99 (76.8096, -3.8792) -> (77.8096, -3.8792)
  line L100 (77.8096, -6.2792) -> (76.8096, -6.2792)
  line L101 (76.8096, -6.2792) -> (76.8096, -9.0532)
  line L102 (73.3096, -9.0532) -> (73.3096, -6.2792)
  line L103 (72.3096, -3.8792) -> (73.3096, -3.8792)
  line L104 (72.3096, -6.2792) -> (72.3096, -3.8792)
  line L105 (73.3096, -6.2792) -> (72.3096, -6.2792)
  line L106 (73.3096, -9.0532) -> (76.8096, -9.0532)
  line L107 (77.8096, -3.8792) -> (77.8096, -6.2792)
  line L108 (16.7707, 0.7543) -> (16.7707, -4.157)
  line L109 (13.2707, 0.7543) -> (16.7707, 0.7543)
  line L110 (13.2707, -4.157) -> (13.2707, 0.7543)
  line L111 (16.7707, -4.157) -> (17.7707, -4.157)
  line L112 (17.7707, -6.557) -> (16.7707, -6.557)
  line L113 (16.7707, -6.557) -> (16.7707, -9.331)
  line L114 (13.2707, -9.331) -> (13.2707, -6.557)
  line L115 (12.2707, -4.157) -> (13.2707, -4.157)
  line L116 (12.2707, -6.557) -> (12.2707, -4.157)
  line L117 (13.2707, -6.557) -> (12.2707, -6.557)
  line L118 (13.2707, -9.331) -> (16.7707, -9.331)
  line L119 (17.7707, -4.157) -> (17.7707, -6.557)
  line L120 (220, 0) -> (220, -130) projected
  line L121 (115, 0) -> (175, 0) projected
  line L122 (185, -130) -> (185, -140) projected
  line L123 (145, 0) -> (145, -149.5904)
  line L124 (105, -140) -> (105, -130) projected
  line L125 (185, -140) -> (175, -140) projected
  line L126 (75, 12.0285) -> (75, -142.1824)
  point P0 (0, 0)
  dimension "d93" = 3.5
  dimension "d94" = 3.5
  dimension "d95" = 3.5
  dimension "d96" = 3.5
  dimension "d97" = 3.5
  dimension "d98" = 3.5
  dimension "d99" = 3.5
  dimension "d100" = 3.5
  dimension "d101" = 3.5
  dimension "d102" = 3.5
  dimension "d108" = 75
  dimension "d109" = 13.2707
  dimension "d110" = 30
extrude "Extrusión5" cut sketch "Boceto4" against normal blind 10
properties part number "pieza central base inferior"
